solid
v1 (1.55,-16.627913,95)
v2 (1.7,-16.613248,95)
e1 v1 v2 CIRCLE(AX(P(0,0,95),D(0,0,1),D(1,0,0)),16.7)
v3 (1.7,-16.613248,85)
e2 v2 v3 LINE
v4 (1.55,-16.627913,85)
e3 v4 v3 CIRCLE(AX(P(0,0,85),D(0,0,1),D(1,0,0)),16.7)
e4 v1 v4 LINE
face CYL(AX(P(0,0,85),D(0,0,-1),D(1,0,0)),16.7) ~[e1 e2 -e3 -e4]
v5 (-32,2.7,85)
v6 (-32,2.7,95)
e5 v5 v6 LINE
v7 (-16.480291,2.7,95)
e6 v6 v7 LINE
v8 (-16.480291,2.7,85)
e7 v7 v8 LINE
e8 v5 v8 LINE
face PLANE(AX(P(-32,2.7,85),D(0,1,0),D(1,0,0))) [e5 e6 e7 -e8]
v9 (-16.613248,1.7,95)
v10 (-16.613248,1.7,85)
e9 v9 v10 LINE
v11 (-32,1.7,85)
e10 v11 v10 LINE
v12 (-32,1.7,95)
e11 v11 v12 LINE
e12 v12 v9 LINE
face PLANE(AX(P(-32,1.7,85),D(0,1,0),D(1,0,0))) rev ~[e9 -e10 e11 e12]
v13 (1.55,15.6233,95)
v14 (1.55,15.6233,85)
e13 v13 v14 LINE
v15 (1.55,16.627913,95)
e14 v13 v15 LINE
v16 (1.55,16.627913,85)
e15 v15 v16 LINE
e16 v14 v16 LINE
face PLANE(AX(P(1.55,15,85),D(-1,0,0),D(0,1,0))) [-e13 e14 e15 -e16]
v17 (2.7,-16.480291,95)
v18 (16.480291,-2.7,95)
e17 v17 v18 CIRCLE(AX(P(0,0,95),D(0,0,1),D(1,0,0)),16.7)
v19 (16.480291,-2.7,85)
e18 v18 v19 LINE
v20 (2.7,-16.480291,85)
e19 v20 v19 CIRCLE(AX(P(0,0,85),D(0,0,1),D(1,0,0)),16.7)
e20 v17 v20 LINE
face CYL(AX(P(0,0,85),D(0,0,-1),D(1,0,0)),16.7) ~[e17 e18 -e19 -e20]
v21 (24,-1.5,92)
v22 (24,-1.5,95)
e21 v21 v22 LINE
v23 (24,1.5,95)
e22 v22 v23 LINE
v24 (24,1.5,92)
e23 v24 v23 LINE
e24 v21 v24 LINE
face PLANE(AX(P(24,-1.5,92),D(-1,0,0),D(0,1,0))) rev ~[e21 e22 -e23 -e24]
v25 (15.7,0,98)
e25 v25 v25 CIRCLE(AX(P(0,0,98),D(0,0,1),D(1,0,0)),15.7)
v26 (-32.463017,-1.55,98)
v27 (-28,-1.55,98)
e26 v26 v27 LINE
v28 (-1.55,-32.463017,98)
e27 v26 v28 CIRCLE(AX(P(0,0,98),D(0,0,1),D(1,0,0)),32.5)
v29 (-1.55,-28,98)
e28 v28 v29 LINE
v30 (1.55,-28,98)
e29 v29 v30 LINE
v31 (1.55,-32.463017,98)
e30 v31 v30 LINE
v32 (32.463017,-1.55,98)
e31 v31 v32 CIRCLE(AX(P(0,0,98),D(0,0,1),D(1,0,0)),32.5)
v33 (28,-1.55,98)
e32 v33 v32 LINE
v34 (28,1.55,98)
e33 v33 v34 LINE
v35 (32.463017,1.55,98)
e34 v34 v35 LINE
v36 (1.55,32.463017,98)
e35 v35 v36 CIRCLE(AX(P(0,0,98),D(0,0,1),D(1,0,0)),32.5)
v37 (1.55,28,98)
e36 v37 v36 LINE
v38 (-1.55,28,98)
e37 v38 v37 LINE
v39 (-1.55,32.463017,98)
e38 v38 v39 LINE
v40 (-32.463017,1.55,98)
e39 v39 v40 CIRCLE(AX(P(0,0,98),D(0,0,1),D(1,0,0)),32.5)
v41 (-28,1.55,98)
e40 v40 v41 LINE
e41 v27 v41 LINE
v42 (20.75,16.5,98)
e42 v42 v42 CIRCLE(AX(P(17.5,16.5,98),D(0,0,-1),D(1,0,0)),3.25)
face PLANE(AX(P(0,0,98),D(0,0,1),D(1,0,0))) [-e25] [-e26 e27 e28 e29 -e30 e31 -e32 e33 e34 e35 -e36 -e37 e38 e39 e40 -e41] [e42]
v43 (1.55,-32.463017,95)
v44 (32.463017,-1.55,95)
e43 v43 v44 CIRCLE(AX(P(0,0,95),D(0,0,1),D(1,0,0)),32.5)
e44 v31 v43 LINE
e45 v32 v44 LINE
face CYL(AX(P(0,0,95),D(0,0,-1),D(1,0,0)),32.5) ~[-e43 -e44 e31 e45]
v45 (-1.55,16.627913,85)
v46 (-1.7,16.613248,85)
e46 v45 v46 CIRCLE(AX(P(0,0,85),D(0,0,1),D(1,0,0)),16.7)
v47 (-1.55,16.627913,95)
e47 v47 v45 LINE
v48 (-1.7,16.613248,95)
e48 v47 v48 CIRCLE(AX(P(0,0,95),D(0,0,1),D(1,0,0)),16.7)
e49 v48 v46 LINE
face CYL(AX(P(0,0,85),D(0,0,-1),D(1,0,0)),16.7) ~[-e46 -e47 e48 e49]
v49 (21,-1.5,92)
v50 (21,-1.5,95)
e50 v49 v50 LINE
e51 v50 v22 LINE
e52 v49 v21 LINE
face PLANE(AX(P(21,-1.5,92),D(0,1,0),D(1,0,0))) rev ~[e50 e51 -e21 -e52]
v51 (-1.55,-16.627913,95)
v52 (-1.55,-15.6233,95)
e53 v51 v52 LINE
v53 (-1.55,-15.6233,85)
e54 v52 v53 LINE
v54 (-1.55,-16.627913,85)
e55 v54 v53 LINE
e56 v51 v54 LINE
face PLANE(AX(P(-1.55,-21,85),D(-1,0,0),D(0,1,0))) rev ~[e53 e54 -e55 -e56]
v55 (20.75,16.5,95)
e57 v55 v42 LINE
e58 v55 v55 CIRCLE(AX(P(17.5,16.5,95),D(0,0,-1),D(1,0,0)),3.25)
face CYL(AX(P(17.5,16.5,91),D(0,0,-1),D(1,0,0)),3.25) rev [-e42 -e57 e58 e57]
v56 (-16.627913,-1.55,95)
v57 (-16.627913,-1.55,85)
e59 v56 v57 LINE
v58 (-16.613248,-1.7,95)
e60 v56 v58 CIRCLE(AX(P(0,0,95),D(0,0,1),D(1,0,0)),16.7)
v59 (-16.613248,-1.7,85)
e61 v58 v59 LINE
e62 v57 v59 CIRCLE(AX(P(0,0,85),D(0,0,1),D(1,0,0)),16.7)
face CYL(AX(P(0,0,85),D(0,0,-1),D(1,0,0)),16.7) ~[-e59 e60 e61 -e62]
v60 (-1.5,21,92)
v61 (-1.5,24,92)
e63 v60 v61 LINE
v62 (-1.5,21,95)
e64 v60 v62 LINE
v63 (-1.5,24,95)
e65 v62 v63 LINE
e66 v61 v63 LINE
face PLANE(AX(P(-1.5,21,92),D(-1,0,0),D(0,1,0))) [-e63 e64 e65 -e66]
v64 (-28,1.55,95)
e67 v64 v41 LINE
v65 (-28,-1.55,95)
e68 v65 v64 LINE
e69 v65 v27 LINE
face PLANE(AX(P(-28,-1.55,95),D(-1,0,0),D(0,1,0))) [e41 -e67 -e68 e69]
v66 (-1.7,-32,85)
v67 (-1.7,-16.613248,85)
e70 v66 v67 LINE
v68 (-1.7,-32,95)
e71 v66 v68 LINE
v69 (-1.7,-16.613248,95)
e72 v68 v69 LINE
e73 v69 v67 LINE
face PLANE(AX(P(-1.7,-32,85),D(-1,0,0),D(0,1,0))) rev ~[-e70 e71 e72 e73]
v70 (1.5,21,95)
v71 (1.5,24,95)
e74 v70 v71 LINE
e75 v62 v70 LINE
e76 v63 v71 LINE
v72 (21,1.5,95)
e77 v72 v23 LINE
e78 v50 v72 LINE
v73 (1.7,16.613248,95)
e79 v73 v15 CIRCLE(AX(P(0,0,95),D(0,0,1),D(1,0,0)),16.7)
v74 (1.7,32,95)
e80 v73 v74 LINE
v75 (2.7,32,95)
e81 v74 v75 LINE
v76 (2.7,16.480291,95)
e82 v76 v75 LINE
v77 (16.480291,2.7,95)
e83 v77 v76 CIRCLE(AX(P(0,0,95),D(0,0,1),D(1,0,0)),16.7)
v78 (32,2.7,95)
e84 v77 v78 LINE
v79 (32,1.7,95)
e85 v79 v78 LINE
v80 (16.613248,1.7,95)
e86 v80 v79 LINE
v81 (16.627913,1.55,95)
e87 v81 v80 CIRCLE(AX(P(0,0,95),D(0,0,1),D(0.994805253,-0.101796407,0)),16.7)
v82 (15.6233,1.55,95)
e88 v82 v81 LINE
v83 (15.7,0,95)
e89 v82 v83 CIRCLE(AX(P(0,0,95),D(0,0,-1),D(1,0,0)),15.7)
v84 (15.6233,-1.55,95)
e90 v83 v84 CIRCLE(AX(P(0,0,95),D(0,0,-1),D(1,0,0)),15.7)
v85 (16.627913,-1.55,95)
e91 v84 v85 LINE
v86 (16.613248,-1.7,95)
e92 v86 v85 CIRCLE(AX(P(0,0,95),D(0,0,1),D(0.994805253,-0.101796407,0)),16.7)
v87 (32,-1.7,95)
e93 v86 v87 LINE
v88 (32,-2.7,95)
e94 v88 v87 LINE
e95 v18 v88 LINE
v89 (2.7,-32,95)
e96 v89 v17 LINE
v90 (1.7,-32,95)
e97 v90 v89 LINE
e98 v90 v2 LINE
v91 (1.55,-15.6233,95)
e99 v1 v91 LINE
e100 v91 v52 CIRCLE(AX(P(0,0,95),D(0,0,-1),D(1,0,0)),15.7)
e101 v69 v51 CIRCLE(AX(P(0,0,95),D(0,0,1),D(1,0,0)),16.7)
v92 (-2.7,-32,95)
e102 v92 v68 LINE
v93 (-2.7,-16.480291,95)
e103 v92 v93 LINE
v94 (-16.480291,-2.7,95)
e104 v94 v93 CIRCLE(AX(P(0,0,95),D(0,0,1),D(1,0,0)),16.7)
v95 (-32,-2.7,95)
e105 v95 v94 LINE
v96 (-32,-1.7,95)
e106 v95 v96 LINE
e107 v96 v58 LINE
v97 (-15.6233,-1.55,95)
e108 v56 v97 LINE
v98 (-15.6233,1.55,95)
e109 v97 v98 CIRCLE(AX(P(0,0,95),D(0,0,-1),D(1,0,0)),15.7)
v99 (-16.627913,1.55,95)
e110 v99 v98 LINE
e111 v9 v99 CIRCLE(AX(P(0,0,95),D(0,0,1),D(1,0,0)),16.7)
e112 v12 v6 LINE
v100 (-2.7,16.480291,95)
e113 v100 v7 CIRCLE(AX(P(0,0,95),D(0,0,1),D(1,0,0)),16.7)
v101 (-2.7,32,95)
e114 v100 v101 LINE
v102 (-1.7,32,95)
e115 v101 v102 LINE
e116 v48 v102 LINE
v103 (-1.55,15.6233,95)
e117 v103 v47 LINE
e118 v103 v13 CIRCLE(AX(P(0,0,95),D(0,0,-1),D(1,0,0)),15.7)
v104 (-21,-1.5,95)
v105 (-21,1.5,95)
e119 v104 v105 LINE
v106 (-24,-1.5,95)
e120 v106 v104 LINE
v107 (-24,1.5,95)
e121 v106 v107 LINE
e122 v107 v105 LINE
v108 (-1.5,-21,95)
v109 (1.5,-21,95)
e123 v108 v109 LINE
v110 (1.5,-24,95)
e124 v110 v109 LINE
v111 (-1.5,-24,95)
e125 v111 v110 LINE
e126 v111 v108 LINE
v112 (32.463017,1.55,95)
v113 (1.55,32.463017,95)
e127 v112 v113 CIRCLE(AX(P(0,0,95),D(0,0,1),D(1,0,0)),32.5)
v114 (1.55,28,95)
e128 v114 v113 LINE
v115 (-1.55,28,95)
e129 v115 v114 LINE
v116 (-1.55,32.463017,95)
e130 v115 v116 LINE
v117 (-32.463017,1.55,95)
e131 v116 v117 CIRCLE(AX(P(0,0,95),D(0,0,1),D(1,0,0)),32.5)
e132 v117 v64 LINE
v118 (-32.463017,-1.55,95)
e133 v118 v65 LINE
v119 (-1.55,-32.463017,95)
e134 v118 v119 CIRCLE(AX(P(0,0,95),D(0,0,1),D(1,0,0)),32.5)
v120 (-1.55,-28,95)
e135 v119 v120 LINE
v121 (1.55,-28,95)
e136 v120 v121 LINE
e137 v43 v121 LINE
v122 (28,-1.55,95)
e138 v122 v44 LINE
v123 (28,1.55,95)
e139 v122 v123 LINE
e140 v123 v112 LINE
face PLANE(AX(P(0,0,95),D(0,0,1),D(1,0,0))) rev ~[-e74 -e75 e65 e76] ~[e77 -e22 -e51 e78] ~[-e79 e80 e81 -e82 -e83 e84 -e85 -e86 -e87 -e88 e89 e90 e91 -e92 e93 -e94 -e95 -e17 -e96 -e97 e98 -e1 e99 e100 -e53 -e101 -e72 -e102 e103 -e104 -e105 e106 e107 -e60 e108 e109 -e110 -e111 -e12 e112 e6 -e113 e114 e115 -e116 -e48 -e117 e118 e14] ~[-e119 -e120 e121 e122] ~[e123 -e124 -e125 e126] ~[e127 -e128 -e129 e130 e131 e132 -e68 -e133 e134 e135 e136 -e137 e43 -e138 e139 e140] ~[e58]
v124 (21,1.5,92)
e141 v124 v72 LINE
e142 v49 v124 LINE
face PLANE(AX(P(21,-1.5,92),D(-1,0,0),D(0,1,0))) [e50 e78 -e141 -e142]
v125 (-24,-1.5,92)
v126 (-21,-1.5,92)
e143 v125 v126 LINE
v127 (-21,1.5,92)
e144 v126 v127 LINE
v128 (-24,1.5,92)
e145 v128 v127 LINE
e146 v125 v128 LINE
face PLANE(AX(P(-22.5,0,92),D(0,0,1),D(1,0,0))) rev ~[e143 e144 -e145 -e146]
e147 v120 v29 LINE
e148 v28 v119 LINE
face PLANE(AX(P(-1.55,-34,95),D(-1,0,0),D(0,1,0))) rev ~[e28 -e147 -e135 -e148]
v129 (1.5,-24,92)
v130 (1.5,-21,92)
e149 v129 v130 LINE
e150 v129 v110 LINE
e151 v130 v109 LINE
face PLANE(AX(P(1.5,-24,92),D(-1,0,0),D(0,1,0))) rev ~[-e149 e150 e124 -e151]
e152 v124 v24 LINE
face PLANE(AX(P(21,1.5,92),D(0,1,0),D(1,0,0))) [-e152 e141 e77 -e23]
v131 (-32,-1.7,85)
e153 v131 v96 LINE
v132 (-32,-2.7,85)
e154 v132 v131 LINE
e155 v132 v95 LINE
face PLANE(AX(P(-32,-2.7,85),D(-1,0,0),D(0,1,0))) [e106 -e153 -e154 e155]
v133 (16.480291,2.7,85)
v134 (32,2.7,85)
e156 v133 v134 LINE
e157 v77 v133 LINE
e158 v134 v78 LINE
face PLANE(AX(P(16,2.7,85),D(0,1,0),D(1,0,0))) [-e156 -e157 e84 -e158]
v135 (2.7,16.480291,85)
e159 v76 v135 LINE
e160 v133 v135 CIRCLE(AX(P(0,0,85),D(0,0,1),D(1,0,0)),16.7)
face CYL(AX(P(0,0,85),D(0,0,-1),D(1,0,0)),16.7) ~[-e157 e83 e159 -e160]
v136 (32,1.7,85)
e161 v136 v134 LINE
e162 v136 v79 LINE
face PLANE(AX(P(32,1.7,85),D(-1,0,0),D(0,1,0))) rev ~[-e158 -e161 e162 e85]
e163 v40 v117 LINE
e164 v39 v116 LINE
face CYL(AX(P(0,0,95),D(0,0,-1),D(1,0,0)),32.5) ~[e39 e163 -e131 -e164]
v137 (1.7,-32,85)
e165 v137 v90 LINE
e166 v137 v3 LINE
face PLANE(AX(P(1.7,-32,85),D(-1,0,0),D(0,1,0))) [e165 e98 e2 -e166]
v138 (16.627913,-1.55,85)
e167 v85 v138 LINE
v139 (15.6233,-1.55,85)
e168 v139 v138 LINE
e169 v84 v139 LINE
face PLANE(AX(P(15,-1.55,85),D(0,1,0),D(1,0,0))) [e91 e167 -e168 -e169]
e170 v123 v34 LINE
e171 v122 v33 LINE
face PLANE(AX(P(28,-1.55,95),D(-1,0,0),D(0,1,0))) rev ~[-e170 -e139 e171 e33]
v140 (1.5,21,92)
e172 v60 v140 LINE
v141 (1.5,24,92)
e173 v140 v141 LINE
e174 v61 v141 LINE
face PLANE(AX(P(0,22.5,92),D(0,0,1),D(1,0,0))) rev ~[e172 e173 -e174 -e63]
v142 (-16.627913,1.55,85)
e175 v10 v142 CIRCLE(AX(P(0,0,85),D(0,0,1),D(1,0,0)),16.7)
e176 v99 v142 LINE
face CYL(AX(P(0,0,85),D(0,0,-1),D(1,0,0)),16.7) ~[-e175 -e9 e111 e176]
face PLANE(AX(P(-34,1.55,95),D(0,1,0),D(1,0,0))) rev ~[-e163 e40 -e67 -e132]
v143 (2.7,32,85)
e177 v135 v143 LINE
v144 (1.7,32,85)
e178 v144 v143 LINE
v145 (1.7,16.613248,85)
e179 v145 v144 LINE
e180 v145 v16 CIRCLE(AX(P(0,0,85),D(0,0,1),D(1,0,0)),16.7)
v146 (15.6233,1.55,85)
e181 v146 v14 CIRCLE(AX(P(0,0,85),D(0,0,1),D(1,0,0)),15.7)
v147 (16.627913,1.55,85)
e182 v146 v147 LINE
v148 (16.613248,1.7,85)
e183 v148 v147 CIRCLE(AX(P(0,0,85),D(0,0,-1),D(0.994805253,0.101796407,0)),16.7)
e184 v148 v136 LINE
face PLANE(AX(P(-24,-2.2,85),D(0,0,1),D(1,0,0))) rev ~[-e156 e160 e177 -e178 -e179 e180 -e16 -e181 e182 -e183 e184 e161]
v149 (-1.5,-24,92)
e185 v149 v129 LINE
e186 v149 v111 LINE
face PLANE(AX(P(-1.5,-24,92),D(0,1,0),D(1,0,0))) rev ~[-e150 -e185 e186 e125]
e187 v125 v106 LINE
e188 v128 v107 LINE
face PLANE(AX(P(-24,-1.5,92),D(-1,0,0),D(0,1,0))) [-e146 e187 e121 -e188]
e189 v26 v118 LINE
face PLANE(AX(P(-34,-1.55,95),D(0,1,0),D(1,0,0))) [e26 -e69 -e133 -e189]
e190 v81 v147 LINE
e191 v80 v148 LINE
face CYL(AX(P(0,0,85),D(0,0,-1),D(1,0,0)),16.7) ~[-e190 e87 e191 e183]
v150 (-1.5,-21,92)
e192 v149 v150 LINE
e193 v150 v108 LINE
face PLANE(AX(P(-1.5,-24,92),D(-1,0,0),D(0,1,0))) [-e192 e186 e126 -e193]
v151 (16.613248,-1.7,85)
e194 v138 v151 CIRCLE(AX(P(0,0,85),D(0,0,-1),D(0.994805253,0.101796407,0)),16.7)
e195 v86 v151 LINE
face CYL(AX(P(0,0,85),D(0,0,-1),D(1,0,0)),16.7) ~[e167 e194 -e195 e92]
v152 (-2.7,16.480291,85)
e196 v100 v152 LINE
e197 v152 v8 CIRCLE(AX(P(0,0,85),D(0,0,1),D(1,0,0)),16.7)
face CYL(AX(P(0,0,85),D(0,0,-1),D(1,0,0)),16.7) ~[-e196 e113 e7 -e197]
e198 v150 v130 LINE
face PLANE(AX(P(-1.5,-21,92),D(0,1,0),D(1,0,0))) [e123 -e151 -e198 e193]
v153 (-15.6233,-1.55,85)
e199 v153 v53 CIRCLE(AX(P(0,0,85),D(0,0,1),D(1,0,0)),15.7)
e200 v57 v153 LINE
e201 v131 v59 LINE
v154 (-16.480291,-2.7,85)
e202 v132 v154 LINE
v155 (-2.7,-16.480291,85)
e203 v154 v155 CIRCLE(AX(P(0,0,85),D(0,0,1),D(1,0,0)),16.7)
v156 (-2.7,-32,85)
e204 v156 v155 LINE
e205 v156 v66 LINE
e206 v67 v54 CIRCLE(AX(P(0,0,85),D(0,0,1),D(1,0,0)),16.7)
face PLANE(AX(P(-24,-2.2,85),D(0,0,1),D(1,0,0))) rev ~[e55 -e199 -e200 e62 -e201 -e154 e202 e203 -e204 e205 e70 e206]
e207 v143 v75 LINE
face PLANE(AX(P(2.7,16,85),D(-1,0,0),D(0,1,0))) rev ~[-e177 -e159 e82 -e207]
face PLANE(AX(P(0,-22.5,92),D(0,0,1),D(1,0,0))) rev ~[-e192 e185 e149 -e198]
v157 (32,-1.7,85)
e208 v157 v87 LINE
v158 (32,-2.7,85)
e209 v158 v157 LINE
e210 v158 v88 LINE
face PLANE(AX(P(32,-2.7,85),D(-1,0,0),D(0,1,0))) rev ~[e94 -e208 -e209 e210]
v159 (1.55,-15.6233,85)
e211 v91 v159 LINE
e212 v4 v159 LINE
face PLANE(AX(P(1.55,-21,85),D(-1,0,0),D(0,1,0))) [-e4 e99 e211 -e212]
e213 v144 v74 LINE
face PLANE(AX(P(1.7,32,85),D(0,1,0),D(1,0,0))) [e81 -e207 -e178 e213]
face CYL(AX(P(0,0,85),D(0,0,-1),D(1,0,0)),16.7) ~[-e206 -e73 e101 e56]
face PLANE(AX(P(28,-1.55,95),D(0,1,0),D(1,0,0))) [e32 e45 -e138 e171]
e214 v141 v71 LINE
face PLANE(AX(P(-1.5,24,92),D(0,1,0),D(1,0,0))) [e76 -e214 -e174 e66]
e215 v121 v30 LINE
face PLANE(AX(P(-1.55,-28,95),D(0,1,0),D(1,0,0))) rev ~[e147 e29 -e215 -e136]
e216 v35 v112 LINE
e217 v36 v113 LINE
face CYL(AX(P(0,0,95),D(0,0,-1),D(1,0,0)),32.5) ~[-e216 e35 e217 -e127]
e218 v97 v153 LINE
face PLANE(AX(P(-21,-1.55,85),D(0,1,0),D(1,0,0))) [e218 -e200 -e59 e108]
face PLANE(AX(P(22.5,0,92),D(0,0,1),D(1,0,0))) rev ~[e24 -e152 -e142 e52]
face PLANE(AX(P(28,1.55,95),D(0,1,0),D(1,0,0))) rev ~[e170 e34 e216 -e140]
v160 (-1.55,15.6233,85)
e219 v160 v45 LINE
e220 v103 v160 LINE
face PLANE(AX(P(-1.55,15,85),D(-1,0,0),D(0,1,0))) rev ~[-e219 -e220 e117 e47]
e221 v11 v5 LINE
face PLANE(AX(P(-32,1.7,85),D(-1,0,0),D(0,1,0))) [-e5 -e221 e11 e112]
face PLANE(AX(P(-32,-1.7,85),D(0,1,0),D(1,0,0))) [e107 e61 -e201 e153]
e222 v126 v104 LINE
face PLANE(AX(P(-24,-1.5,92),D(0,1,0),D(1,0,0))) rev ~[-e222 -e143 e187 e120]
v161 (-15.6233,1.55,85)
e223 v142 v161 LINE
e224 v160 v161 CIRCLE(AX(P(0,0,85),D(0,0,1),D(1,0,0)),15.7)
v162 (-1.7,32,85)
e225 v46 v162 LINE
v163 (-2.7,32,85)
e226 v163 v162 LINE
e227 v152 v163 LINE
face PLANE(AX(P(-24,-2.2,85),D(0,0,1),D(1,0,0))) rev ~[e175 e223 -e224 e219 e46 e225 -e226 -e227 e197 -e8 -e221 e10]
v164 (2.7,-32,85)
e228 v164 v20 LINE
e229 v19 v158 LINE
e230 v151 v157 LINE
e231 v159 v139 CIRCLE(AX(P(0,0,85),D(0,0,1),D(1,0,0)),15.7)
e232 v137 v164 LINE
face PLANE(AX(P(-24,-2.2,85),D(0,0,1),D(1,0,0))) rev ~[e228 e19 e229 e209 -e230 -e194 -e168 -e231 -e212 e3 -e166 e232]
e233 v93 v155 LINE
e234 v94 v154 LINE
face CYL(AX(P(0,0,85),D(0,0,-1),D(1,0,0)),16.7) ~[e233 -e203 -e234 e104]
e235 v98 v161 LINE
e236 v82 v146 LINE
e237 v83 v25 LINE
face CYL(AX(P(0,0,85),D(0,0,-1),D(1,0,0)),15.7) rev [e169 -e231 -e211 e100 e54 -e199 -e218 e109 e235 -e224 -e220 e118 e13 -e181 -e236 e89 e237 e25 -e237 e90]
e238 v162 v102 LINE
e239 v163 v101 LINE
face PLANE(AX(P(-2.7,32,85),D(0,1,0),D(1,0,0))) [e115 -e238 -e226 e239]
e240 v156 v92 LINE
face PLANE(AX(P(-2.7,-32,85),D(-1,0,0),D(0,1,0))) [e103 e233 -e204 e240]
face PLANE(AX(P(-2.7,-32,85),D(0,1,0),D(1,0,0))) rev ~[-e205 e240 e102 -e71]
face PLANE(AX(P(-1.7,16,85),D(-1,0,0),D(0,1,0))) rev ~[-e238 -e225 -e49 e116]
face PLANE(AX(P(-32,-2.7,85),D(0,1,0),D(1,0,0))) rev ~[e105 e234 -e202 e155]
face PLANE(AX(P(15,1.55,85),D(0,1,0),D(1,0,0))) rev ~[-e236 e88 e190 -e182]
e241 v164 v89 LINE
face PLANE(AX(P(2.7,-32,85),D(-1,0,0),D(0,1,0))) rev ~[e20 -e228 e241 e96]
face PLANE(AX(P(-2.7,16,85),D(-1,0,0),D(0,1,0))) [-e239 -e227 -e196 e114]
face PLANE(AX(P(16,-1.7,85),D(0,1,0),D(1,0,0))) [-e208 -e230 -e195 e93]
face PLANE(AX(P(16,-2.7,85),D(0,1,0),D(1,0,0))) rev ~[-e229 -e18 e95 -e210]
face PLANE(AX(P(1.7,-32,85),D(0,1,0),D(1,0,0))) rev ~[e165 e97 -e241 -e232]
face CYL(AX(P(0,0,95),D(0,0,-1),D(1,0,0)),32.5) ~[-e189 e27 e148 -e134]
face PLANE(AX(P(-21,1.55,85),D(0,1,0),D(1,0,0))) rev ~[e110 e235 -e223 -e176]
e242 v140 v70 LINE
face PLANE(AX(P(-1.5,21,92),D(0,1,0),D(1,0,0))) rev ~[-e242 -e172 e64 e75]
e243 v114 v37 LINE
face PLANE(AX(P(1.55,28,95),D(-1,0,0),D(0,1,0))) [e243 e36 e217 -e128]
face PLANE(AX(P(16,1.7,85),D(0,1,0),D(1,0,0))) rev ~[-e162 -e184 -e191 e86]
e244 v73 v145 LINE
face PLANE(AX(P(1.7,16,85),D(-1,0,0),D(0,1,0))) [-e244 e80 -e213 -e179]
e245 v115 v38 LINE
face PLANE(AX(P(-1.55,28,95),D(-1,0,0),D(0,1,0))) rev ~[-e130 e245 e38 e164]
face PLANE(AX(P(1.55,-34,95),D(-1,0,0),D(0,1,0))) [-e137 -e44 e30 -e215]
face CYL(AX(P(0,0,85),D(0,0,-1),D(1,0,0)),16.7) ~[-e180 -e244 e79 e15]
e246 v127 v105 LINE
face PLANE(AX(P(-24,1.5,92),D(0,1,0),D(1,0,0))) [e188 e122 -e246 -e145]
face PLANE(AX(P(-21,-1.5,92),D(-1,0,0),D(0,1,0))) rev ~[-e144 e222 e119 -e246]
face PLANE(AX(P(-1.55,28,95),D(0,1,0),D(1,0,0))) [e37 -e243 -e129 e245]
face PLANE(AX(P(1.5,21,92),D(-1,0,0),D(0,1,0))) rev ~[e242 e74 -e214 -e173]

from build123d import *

# Parameters (mm, degrees)
CYLINDER_R     = 3.25
CYLINDER_DEPTH = 10
BOX030_W       = 3
BOX030_H       = 3
BOX030_DEPTH   = 3
BOX047_W       = 3
BOX047_H       = 3
BOX047_DEPTH   = 3
BOX029_W       = 3
BOX029_H       = 3
BOX029_DEPTH   = 3
BOX028_W       = 3
BOX028_H       = 3
BOX028_DEPTH   = 3
BOX043_W       = 3.1
BOX043_H       = 6
BOX043_DEPTH   = 10
BOX044_W       = 3.1
BOX044_H       = 6
BOX044_DEPTH   = 10
BOX045_W       = 6
BOX045_H       = 3.1
BOX045_DEPTH   = 10
BOX046_W       = 6
BOX046_H       = 3.1
BOX046_DEPTH   = 10
BOX032_W       = 3.1
BOX032_H       = 6
BOX032_DEPTH   = 3
BOX033_W       = 6
BOX033_H       = 3.1
BOX033_DEPTH   = 3
BOX034_W       = 6
BOX034_H       = 3.1
BOX034_DEPTH   = 3
BOX031_W       = 3.1
BOX031_H       = 6
BOX031_DEPTH   = 3
TUBE003_R      = 16.7
TUBE003_R_2    = 15.7
TUBE003_DEPTH  = 10
BOX036_W       = 1
BOX036_H       = 16
BOX036_DEPTH   = 10
BOX037_W       = 1
BOX037_H       = 16
BOX037_DEPTH   = 10
BOX038_W       = 1
BOX038_H       = 16
BOX038_DEPTH   = 10
BOX039_W       = 16
BOX039_H       = 1
BOX039_DEPTH   = 10
BOX040_W       = 16
BOX040_H       = 1
BOX040_DEPTH   = 10
BOX041_W       = 16
BOX041_H       = 1
BOX041_DEPTH   = 10
BOX042_W       = 16
BOX042_H       = 1
BOX042_DEPTH   = 10
BOX035_W       = 1
BOX035_H       = 16
BOX035_DEPTH   = 10
TUBE002_R      = 32.5
TUBE002_R_2    = 15.7
TUBE002_DEPTH  = 3


with BuildPart() as eyeboltcutout:
    # Cylinder → Cylinder (new body)
    with BuildSketch(Plane(origin=(17.5, 16.5, 91), x_dir=(1, 0, 0), z_dir=(0, 0, 1))):
        Circle(CYLINDER_R)
    extrude(amount=CYLINDER_DEPTH)


with BuildPart() as finlock015:
    # Box030 → Box030 (new body)
    with BuildSketch(Plane(origin=(-1.5, 21, -3), x_dir=(1, 0, 0), z_dir=(0, 0, 1))):
        with Locations((1.5, 1.5)):
            Rectangle(BOX030_W, BOX030_H)
    extrude(amount=BOX030_DEPTH)


with BuildPart() as finlock016:
    # Box047 → Box047 (new body)
    with BuildSketch(Plane(origin=(-1.5, -24, -3), x_dir=(1, 0, 0), z_dir=(0, 0, 1))):
        with Locations((1.5, 1.5)):
            Rectangle(BOX047_W, BOX047_H)
    extrude(amount=BOX047_DEPTH)


with BuildPart() as finlock014:
    # Box029 → Box029 (new body)
    with BuildSketch(Plane(origin=(-24, -1.5, -3), x_dir=(1, 0, 0), z_dir=(0, 0, 1))):
        with Locations((1.5, 1.5)):
            Rectangle(BOX029_W, BOX029_H)
    extrude(amount=BOX029_DEPTH)


with BuildPart() as finlocks001:
    # Box028 → Box028 (new body)
    with BuildSketch(Plane(origin=(21, -1.5, -3), x_dir=(1, 0, 0), z_dir=(0, 0, 1))):
        with Locations((1.5, 1.5)):
            Rectangle(BOX028_W, BOX028_H)
    extrude(amount=BOX028_DEPTH)

    # Fusion014: union FinLock015, FinLock016, FinLock014
    add(finlock015.part)
    add(finlock016.part)
    add(finlock014.part)


with BuildPart() as fincut013:
    # Box043 → Box043 (new body)
    with BuildSketch(Plane(origin=(-1.55, -21, -10), x_dir=(1, 0, 0), z_dir=(0, 0, 1))):
        with Locations((1.55, 3)):
            Rectangle(BOX043_W, BOX043_H)
    extrude(amount=BOX043_DEPTH)


with BuildPart() as fincut014:
    # Box044 → Box044 (new body)
    with BuildSketch(Plane(origin=(-1.55, 15, -10), x_dir=(1, 0, 0), z_dir=(0, 0, 1))):
        with Locations((1.55, 3)):
            Rectangle(BOX044_W, BOX044_H)
    extrude(amount=BOX044_DEPTH)


with BuildPart() as fincut015:
    # Box045 → Box045 (new body)
    with BuildSketch(Plane(origin=(15, -1.55, -10), x_dir=(1, 0, 0), z_dir=(0, 0, 1))):
        with Locations((3, 1.55)):
            Rectangle(BOX045_W, BOX045_H)
    extrude(amount=BOX045_DEPTH)


with BuildPart() as innerfincutouts001:
    # Box046 → Box046 (new body)
    with BuildSketch(Plane(origin=(-21, -1.55, -10), x_dir=(1, 0, 0), z_dir=(0, 0, 1))):
        with Locations((3, 1.55)):
            Rectangle(BOX046_W, BOX046_H)
    extrude(amount=BOX046_DEPTH)

    # Fusion011: union FinCut013, FinCut014, FinCut015
    add(fincut013.part)
    add(fincut014.part)
    add(fincut015.part)


with BuildPart() as fincut010:
    # Box032 → Box032 (new body)
    with BuildSketch(Plane(origin=(-1.55, 28, 0), x_dir=(1, 0, 0), z_dir=(0, 0, 1))):
        with Locations((1.55, 3)):
            Rectangle(BOX032_W, BOX032_H)
    extrude(amount=BOX032_DEPTH)


with BuildPart() as fincut011:
    # Box033 → Box033 (new body)
    with BuildSketch(Plane(origin=(28, -1.55, 0), x_dir=(1, 0, 0), z_dir=(0, 0, 1))):
        with Locations((3, 1.55)):
            Rectangle(BOX033_W, BOX033_H)
    extrude(amount=BOX033_DEPTH)


with BuildPart() as fincut012:
    # Box034 → Box034 (new body)
    with BuildSketch(Plane(origin=(-34, -1.55, 0), x_dir=(1, 0, 0), z_dir=(0, 0, 1))):
        with Locations((3, 1.55)):
            Rectangle(BOX034_W, BOX034_H)
    extrude(amount=BOX034_DEPTH)


with BuildPart() as fincutouts001:
    # Box031 → Box031 (new body)
    with BuildSketch(Plane(origin=(-1.55, -34, 0), x_dir=(1, 0, 0), z_dir=(0, 0, 1))):
        with Locations((1.55, 3)):
            Rectangle(BOX031_W, BOX031_H)
    extrude(amount=BOX031_DEPTH)

    # Fusion009: union FinCut010, FinCut011, FinCut012
    add(fincut010.part)
    add(fincut011.part)
    add(fincut012.part)

    # Fusion012: union InnerFinCutouts001
    add(innerfincutouts001.part)


with BuildPart() as innertube001:
    # Tube003 → Tube003 (new body)
    with BuildSketch(Plane.XY.offset(-10)):
        Circle(TUBE003_R)
        Circle(TUBE003_R_2, mode=Mode.SUBTRACT)
    extrude(amount=TUBE003_DEPTH)


with BuildPart() as alignment010:
    # Box036 → Box036 (new body)
    with BuildSketch(Plane(origin=(-2.7, 16, -10), x_dir=(1, 0, 0), z_dir=(0, 0, 1))):
        with Locations((0.5, 8)):
            Rectangle(BOX036_W, BOX036_H)
    extrude(amount=BOX036_DEPTH)


with BuildPart() as alignment011:
    # Box037 → Box037 (new body)
    with BuildSketch(Plane(origin=(-2.7, -32, -10), x_dir=(1, 0, 0), z_dir=(0, 0, 1))):
        with Locations((0.5, 8)):
            Rectangle(BOX037_W, BOX037_H)
    extrude(amount=BOX037_DEPTH)


with BuildPart() as alignment012:
    # Box038 → Box038 (new body)
    with BuildSketch(Plane(origin=(1.7, -32, -10), x_dir=(1, 0, 0), z_dir=(0, 0, 1))):
        with Locations((0.5, 8)):
            Rectangle(BOX038_W, BOX038_H)
    extrude(amount=BOX038_DEPTH)


with BuildPart() as alignment013:
    # Box039 → Box039 (new body)
    with BuildSketch(Plane(origin=(16, 1.7, -10), x_dir=(1, 0, 0), z_dir=(0, 0, 1))):
        with Locations((8, 0.5)):
            Rectangle(BOX039_W, BOX039_H)
    extrude(amount=BOX039_DEPTH)


with BuildPart() as alignment014:
    # Box040 → Box040 (new body)
    with BuildSketch(Plane(origin=(16, -2.7, -10), x_dir=(1, 0, 0), z_dir=(0, 0, 1))):
        with Locations((8, 0.5)):
            Rectangle(BOX040_W, BOX040_H)
    extrude(amount=BOX040_DEPTH)


with BuildPart() as alignment015:
    # Box041 → Box041 (new body)
    with BuildSketch(Plane(origin=(-32, 1.7, -10), x_dir=(1, 0, 0), z_dir=(0, 0, 1))):
        with Locations((8, 0.5)):
            Rectangle(BOX041_W, BOX041_H)
    extrude(amount=BOX041_DEPTH)


with BuildPart() as alignment016:
    # Box042 → Box042 (new body)
    with BuildSketch(Plane(origin=(-32, -2.7, -10), x_dir=(1, 0, 0), z_dir=(0, 0, 1))):
        with Locations((8, 0.5)):
            Rectangle(BOX042_W, BOX042_H)
    extrude(amount=BOX042_DEPTH)


with BuildPart() as alignmenttabs001:
    # Box035 → Box035 (new body)
    with BuildSketch(Plane(origin=(1.7, 16, -10), x_dir=(1, 0, 0), z_dir=(0, 0, 1))):
        with Locations((0.5, 8)):
            Rectangle(BOX035_W, BOX035_H)
    extrude(amount=BOX035_DEPTH)

    # Fusion010: union Alignment010, Alignment011, Alignment012, Alignment013, Alignment014, Alignment015, Alignment016
    add(alignment010.part)
    add(alignment011.part)
    add(alignment012.part)
    add(alignment013.part)
    add(alignment014.part)
    add(alignment015.part)
    add(alignment016.part)


with BuildPart() as cut004:
    # Tube002 → Tube002 (new body)
    with BuildSketch(Plane.XY):
        Circle(TUBE002_R)
        Circle(TUBE002_R_2, mode=Mode.SUBTRACT)
    extrude(amount=TUBE002_DEPTH)

    # Fusion013: union InnerTube001, AlignmentTabs001
    add(innertube001.part)
    add(alignmenttabs001.part)

    # Cut003: cut FinCutouts001
    add(fincutouts001.part, mode=Mode.SUBTRACT)

    # Connect001: union FinLocks001
    add(finlocks001.part)


with BuildPart() as cut004_1:
    # Connect001 placement: moved
    add(cut004.part.moved(Location((0, 0, 95))))

    # Cut004: cut EyeboltCutout
    add(eyeboltcutout.part, mode=Mode.SUBTRACT)


solid = cut004_1.part
